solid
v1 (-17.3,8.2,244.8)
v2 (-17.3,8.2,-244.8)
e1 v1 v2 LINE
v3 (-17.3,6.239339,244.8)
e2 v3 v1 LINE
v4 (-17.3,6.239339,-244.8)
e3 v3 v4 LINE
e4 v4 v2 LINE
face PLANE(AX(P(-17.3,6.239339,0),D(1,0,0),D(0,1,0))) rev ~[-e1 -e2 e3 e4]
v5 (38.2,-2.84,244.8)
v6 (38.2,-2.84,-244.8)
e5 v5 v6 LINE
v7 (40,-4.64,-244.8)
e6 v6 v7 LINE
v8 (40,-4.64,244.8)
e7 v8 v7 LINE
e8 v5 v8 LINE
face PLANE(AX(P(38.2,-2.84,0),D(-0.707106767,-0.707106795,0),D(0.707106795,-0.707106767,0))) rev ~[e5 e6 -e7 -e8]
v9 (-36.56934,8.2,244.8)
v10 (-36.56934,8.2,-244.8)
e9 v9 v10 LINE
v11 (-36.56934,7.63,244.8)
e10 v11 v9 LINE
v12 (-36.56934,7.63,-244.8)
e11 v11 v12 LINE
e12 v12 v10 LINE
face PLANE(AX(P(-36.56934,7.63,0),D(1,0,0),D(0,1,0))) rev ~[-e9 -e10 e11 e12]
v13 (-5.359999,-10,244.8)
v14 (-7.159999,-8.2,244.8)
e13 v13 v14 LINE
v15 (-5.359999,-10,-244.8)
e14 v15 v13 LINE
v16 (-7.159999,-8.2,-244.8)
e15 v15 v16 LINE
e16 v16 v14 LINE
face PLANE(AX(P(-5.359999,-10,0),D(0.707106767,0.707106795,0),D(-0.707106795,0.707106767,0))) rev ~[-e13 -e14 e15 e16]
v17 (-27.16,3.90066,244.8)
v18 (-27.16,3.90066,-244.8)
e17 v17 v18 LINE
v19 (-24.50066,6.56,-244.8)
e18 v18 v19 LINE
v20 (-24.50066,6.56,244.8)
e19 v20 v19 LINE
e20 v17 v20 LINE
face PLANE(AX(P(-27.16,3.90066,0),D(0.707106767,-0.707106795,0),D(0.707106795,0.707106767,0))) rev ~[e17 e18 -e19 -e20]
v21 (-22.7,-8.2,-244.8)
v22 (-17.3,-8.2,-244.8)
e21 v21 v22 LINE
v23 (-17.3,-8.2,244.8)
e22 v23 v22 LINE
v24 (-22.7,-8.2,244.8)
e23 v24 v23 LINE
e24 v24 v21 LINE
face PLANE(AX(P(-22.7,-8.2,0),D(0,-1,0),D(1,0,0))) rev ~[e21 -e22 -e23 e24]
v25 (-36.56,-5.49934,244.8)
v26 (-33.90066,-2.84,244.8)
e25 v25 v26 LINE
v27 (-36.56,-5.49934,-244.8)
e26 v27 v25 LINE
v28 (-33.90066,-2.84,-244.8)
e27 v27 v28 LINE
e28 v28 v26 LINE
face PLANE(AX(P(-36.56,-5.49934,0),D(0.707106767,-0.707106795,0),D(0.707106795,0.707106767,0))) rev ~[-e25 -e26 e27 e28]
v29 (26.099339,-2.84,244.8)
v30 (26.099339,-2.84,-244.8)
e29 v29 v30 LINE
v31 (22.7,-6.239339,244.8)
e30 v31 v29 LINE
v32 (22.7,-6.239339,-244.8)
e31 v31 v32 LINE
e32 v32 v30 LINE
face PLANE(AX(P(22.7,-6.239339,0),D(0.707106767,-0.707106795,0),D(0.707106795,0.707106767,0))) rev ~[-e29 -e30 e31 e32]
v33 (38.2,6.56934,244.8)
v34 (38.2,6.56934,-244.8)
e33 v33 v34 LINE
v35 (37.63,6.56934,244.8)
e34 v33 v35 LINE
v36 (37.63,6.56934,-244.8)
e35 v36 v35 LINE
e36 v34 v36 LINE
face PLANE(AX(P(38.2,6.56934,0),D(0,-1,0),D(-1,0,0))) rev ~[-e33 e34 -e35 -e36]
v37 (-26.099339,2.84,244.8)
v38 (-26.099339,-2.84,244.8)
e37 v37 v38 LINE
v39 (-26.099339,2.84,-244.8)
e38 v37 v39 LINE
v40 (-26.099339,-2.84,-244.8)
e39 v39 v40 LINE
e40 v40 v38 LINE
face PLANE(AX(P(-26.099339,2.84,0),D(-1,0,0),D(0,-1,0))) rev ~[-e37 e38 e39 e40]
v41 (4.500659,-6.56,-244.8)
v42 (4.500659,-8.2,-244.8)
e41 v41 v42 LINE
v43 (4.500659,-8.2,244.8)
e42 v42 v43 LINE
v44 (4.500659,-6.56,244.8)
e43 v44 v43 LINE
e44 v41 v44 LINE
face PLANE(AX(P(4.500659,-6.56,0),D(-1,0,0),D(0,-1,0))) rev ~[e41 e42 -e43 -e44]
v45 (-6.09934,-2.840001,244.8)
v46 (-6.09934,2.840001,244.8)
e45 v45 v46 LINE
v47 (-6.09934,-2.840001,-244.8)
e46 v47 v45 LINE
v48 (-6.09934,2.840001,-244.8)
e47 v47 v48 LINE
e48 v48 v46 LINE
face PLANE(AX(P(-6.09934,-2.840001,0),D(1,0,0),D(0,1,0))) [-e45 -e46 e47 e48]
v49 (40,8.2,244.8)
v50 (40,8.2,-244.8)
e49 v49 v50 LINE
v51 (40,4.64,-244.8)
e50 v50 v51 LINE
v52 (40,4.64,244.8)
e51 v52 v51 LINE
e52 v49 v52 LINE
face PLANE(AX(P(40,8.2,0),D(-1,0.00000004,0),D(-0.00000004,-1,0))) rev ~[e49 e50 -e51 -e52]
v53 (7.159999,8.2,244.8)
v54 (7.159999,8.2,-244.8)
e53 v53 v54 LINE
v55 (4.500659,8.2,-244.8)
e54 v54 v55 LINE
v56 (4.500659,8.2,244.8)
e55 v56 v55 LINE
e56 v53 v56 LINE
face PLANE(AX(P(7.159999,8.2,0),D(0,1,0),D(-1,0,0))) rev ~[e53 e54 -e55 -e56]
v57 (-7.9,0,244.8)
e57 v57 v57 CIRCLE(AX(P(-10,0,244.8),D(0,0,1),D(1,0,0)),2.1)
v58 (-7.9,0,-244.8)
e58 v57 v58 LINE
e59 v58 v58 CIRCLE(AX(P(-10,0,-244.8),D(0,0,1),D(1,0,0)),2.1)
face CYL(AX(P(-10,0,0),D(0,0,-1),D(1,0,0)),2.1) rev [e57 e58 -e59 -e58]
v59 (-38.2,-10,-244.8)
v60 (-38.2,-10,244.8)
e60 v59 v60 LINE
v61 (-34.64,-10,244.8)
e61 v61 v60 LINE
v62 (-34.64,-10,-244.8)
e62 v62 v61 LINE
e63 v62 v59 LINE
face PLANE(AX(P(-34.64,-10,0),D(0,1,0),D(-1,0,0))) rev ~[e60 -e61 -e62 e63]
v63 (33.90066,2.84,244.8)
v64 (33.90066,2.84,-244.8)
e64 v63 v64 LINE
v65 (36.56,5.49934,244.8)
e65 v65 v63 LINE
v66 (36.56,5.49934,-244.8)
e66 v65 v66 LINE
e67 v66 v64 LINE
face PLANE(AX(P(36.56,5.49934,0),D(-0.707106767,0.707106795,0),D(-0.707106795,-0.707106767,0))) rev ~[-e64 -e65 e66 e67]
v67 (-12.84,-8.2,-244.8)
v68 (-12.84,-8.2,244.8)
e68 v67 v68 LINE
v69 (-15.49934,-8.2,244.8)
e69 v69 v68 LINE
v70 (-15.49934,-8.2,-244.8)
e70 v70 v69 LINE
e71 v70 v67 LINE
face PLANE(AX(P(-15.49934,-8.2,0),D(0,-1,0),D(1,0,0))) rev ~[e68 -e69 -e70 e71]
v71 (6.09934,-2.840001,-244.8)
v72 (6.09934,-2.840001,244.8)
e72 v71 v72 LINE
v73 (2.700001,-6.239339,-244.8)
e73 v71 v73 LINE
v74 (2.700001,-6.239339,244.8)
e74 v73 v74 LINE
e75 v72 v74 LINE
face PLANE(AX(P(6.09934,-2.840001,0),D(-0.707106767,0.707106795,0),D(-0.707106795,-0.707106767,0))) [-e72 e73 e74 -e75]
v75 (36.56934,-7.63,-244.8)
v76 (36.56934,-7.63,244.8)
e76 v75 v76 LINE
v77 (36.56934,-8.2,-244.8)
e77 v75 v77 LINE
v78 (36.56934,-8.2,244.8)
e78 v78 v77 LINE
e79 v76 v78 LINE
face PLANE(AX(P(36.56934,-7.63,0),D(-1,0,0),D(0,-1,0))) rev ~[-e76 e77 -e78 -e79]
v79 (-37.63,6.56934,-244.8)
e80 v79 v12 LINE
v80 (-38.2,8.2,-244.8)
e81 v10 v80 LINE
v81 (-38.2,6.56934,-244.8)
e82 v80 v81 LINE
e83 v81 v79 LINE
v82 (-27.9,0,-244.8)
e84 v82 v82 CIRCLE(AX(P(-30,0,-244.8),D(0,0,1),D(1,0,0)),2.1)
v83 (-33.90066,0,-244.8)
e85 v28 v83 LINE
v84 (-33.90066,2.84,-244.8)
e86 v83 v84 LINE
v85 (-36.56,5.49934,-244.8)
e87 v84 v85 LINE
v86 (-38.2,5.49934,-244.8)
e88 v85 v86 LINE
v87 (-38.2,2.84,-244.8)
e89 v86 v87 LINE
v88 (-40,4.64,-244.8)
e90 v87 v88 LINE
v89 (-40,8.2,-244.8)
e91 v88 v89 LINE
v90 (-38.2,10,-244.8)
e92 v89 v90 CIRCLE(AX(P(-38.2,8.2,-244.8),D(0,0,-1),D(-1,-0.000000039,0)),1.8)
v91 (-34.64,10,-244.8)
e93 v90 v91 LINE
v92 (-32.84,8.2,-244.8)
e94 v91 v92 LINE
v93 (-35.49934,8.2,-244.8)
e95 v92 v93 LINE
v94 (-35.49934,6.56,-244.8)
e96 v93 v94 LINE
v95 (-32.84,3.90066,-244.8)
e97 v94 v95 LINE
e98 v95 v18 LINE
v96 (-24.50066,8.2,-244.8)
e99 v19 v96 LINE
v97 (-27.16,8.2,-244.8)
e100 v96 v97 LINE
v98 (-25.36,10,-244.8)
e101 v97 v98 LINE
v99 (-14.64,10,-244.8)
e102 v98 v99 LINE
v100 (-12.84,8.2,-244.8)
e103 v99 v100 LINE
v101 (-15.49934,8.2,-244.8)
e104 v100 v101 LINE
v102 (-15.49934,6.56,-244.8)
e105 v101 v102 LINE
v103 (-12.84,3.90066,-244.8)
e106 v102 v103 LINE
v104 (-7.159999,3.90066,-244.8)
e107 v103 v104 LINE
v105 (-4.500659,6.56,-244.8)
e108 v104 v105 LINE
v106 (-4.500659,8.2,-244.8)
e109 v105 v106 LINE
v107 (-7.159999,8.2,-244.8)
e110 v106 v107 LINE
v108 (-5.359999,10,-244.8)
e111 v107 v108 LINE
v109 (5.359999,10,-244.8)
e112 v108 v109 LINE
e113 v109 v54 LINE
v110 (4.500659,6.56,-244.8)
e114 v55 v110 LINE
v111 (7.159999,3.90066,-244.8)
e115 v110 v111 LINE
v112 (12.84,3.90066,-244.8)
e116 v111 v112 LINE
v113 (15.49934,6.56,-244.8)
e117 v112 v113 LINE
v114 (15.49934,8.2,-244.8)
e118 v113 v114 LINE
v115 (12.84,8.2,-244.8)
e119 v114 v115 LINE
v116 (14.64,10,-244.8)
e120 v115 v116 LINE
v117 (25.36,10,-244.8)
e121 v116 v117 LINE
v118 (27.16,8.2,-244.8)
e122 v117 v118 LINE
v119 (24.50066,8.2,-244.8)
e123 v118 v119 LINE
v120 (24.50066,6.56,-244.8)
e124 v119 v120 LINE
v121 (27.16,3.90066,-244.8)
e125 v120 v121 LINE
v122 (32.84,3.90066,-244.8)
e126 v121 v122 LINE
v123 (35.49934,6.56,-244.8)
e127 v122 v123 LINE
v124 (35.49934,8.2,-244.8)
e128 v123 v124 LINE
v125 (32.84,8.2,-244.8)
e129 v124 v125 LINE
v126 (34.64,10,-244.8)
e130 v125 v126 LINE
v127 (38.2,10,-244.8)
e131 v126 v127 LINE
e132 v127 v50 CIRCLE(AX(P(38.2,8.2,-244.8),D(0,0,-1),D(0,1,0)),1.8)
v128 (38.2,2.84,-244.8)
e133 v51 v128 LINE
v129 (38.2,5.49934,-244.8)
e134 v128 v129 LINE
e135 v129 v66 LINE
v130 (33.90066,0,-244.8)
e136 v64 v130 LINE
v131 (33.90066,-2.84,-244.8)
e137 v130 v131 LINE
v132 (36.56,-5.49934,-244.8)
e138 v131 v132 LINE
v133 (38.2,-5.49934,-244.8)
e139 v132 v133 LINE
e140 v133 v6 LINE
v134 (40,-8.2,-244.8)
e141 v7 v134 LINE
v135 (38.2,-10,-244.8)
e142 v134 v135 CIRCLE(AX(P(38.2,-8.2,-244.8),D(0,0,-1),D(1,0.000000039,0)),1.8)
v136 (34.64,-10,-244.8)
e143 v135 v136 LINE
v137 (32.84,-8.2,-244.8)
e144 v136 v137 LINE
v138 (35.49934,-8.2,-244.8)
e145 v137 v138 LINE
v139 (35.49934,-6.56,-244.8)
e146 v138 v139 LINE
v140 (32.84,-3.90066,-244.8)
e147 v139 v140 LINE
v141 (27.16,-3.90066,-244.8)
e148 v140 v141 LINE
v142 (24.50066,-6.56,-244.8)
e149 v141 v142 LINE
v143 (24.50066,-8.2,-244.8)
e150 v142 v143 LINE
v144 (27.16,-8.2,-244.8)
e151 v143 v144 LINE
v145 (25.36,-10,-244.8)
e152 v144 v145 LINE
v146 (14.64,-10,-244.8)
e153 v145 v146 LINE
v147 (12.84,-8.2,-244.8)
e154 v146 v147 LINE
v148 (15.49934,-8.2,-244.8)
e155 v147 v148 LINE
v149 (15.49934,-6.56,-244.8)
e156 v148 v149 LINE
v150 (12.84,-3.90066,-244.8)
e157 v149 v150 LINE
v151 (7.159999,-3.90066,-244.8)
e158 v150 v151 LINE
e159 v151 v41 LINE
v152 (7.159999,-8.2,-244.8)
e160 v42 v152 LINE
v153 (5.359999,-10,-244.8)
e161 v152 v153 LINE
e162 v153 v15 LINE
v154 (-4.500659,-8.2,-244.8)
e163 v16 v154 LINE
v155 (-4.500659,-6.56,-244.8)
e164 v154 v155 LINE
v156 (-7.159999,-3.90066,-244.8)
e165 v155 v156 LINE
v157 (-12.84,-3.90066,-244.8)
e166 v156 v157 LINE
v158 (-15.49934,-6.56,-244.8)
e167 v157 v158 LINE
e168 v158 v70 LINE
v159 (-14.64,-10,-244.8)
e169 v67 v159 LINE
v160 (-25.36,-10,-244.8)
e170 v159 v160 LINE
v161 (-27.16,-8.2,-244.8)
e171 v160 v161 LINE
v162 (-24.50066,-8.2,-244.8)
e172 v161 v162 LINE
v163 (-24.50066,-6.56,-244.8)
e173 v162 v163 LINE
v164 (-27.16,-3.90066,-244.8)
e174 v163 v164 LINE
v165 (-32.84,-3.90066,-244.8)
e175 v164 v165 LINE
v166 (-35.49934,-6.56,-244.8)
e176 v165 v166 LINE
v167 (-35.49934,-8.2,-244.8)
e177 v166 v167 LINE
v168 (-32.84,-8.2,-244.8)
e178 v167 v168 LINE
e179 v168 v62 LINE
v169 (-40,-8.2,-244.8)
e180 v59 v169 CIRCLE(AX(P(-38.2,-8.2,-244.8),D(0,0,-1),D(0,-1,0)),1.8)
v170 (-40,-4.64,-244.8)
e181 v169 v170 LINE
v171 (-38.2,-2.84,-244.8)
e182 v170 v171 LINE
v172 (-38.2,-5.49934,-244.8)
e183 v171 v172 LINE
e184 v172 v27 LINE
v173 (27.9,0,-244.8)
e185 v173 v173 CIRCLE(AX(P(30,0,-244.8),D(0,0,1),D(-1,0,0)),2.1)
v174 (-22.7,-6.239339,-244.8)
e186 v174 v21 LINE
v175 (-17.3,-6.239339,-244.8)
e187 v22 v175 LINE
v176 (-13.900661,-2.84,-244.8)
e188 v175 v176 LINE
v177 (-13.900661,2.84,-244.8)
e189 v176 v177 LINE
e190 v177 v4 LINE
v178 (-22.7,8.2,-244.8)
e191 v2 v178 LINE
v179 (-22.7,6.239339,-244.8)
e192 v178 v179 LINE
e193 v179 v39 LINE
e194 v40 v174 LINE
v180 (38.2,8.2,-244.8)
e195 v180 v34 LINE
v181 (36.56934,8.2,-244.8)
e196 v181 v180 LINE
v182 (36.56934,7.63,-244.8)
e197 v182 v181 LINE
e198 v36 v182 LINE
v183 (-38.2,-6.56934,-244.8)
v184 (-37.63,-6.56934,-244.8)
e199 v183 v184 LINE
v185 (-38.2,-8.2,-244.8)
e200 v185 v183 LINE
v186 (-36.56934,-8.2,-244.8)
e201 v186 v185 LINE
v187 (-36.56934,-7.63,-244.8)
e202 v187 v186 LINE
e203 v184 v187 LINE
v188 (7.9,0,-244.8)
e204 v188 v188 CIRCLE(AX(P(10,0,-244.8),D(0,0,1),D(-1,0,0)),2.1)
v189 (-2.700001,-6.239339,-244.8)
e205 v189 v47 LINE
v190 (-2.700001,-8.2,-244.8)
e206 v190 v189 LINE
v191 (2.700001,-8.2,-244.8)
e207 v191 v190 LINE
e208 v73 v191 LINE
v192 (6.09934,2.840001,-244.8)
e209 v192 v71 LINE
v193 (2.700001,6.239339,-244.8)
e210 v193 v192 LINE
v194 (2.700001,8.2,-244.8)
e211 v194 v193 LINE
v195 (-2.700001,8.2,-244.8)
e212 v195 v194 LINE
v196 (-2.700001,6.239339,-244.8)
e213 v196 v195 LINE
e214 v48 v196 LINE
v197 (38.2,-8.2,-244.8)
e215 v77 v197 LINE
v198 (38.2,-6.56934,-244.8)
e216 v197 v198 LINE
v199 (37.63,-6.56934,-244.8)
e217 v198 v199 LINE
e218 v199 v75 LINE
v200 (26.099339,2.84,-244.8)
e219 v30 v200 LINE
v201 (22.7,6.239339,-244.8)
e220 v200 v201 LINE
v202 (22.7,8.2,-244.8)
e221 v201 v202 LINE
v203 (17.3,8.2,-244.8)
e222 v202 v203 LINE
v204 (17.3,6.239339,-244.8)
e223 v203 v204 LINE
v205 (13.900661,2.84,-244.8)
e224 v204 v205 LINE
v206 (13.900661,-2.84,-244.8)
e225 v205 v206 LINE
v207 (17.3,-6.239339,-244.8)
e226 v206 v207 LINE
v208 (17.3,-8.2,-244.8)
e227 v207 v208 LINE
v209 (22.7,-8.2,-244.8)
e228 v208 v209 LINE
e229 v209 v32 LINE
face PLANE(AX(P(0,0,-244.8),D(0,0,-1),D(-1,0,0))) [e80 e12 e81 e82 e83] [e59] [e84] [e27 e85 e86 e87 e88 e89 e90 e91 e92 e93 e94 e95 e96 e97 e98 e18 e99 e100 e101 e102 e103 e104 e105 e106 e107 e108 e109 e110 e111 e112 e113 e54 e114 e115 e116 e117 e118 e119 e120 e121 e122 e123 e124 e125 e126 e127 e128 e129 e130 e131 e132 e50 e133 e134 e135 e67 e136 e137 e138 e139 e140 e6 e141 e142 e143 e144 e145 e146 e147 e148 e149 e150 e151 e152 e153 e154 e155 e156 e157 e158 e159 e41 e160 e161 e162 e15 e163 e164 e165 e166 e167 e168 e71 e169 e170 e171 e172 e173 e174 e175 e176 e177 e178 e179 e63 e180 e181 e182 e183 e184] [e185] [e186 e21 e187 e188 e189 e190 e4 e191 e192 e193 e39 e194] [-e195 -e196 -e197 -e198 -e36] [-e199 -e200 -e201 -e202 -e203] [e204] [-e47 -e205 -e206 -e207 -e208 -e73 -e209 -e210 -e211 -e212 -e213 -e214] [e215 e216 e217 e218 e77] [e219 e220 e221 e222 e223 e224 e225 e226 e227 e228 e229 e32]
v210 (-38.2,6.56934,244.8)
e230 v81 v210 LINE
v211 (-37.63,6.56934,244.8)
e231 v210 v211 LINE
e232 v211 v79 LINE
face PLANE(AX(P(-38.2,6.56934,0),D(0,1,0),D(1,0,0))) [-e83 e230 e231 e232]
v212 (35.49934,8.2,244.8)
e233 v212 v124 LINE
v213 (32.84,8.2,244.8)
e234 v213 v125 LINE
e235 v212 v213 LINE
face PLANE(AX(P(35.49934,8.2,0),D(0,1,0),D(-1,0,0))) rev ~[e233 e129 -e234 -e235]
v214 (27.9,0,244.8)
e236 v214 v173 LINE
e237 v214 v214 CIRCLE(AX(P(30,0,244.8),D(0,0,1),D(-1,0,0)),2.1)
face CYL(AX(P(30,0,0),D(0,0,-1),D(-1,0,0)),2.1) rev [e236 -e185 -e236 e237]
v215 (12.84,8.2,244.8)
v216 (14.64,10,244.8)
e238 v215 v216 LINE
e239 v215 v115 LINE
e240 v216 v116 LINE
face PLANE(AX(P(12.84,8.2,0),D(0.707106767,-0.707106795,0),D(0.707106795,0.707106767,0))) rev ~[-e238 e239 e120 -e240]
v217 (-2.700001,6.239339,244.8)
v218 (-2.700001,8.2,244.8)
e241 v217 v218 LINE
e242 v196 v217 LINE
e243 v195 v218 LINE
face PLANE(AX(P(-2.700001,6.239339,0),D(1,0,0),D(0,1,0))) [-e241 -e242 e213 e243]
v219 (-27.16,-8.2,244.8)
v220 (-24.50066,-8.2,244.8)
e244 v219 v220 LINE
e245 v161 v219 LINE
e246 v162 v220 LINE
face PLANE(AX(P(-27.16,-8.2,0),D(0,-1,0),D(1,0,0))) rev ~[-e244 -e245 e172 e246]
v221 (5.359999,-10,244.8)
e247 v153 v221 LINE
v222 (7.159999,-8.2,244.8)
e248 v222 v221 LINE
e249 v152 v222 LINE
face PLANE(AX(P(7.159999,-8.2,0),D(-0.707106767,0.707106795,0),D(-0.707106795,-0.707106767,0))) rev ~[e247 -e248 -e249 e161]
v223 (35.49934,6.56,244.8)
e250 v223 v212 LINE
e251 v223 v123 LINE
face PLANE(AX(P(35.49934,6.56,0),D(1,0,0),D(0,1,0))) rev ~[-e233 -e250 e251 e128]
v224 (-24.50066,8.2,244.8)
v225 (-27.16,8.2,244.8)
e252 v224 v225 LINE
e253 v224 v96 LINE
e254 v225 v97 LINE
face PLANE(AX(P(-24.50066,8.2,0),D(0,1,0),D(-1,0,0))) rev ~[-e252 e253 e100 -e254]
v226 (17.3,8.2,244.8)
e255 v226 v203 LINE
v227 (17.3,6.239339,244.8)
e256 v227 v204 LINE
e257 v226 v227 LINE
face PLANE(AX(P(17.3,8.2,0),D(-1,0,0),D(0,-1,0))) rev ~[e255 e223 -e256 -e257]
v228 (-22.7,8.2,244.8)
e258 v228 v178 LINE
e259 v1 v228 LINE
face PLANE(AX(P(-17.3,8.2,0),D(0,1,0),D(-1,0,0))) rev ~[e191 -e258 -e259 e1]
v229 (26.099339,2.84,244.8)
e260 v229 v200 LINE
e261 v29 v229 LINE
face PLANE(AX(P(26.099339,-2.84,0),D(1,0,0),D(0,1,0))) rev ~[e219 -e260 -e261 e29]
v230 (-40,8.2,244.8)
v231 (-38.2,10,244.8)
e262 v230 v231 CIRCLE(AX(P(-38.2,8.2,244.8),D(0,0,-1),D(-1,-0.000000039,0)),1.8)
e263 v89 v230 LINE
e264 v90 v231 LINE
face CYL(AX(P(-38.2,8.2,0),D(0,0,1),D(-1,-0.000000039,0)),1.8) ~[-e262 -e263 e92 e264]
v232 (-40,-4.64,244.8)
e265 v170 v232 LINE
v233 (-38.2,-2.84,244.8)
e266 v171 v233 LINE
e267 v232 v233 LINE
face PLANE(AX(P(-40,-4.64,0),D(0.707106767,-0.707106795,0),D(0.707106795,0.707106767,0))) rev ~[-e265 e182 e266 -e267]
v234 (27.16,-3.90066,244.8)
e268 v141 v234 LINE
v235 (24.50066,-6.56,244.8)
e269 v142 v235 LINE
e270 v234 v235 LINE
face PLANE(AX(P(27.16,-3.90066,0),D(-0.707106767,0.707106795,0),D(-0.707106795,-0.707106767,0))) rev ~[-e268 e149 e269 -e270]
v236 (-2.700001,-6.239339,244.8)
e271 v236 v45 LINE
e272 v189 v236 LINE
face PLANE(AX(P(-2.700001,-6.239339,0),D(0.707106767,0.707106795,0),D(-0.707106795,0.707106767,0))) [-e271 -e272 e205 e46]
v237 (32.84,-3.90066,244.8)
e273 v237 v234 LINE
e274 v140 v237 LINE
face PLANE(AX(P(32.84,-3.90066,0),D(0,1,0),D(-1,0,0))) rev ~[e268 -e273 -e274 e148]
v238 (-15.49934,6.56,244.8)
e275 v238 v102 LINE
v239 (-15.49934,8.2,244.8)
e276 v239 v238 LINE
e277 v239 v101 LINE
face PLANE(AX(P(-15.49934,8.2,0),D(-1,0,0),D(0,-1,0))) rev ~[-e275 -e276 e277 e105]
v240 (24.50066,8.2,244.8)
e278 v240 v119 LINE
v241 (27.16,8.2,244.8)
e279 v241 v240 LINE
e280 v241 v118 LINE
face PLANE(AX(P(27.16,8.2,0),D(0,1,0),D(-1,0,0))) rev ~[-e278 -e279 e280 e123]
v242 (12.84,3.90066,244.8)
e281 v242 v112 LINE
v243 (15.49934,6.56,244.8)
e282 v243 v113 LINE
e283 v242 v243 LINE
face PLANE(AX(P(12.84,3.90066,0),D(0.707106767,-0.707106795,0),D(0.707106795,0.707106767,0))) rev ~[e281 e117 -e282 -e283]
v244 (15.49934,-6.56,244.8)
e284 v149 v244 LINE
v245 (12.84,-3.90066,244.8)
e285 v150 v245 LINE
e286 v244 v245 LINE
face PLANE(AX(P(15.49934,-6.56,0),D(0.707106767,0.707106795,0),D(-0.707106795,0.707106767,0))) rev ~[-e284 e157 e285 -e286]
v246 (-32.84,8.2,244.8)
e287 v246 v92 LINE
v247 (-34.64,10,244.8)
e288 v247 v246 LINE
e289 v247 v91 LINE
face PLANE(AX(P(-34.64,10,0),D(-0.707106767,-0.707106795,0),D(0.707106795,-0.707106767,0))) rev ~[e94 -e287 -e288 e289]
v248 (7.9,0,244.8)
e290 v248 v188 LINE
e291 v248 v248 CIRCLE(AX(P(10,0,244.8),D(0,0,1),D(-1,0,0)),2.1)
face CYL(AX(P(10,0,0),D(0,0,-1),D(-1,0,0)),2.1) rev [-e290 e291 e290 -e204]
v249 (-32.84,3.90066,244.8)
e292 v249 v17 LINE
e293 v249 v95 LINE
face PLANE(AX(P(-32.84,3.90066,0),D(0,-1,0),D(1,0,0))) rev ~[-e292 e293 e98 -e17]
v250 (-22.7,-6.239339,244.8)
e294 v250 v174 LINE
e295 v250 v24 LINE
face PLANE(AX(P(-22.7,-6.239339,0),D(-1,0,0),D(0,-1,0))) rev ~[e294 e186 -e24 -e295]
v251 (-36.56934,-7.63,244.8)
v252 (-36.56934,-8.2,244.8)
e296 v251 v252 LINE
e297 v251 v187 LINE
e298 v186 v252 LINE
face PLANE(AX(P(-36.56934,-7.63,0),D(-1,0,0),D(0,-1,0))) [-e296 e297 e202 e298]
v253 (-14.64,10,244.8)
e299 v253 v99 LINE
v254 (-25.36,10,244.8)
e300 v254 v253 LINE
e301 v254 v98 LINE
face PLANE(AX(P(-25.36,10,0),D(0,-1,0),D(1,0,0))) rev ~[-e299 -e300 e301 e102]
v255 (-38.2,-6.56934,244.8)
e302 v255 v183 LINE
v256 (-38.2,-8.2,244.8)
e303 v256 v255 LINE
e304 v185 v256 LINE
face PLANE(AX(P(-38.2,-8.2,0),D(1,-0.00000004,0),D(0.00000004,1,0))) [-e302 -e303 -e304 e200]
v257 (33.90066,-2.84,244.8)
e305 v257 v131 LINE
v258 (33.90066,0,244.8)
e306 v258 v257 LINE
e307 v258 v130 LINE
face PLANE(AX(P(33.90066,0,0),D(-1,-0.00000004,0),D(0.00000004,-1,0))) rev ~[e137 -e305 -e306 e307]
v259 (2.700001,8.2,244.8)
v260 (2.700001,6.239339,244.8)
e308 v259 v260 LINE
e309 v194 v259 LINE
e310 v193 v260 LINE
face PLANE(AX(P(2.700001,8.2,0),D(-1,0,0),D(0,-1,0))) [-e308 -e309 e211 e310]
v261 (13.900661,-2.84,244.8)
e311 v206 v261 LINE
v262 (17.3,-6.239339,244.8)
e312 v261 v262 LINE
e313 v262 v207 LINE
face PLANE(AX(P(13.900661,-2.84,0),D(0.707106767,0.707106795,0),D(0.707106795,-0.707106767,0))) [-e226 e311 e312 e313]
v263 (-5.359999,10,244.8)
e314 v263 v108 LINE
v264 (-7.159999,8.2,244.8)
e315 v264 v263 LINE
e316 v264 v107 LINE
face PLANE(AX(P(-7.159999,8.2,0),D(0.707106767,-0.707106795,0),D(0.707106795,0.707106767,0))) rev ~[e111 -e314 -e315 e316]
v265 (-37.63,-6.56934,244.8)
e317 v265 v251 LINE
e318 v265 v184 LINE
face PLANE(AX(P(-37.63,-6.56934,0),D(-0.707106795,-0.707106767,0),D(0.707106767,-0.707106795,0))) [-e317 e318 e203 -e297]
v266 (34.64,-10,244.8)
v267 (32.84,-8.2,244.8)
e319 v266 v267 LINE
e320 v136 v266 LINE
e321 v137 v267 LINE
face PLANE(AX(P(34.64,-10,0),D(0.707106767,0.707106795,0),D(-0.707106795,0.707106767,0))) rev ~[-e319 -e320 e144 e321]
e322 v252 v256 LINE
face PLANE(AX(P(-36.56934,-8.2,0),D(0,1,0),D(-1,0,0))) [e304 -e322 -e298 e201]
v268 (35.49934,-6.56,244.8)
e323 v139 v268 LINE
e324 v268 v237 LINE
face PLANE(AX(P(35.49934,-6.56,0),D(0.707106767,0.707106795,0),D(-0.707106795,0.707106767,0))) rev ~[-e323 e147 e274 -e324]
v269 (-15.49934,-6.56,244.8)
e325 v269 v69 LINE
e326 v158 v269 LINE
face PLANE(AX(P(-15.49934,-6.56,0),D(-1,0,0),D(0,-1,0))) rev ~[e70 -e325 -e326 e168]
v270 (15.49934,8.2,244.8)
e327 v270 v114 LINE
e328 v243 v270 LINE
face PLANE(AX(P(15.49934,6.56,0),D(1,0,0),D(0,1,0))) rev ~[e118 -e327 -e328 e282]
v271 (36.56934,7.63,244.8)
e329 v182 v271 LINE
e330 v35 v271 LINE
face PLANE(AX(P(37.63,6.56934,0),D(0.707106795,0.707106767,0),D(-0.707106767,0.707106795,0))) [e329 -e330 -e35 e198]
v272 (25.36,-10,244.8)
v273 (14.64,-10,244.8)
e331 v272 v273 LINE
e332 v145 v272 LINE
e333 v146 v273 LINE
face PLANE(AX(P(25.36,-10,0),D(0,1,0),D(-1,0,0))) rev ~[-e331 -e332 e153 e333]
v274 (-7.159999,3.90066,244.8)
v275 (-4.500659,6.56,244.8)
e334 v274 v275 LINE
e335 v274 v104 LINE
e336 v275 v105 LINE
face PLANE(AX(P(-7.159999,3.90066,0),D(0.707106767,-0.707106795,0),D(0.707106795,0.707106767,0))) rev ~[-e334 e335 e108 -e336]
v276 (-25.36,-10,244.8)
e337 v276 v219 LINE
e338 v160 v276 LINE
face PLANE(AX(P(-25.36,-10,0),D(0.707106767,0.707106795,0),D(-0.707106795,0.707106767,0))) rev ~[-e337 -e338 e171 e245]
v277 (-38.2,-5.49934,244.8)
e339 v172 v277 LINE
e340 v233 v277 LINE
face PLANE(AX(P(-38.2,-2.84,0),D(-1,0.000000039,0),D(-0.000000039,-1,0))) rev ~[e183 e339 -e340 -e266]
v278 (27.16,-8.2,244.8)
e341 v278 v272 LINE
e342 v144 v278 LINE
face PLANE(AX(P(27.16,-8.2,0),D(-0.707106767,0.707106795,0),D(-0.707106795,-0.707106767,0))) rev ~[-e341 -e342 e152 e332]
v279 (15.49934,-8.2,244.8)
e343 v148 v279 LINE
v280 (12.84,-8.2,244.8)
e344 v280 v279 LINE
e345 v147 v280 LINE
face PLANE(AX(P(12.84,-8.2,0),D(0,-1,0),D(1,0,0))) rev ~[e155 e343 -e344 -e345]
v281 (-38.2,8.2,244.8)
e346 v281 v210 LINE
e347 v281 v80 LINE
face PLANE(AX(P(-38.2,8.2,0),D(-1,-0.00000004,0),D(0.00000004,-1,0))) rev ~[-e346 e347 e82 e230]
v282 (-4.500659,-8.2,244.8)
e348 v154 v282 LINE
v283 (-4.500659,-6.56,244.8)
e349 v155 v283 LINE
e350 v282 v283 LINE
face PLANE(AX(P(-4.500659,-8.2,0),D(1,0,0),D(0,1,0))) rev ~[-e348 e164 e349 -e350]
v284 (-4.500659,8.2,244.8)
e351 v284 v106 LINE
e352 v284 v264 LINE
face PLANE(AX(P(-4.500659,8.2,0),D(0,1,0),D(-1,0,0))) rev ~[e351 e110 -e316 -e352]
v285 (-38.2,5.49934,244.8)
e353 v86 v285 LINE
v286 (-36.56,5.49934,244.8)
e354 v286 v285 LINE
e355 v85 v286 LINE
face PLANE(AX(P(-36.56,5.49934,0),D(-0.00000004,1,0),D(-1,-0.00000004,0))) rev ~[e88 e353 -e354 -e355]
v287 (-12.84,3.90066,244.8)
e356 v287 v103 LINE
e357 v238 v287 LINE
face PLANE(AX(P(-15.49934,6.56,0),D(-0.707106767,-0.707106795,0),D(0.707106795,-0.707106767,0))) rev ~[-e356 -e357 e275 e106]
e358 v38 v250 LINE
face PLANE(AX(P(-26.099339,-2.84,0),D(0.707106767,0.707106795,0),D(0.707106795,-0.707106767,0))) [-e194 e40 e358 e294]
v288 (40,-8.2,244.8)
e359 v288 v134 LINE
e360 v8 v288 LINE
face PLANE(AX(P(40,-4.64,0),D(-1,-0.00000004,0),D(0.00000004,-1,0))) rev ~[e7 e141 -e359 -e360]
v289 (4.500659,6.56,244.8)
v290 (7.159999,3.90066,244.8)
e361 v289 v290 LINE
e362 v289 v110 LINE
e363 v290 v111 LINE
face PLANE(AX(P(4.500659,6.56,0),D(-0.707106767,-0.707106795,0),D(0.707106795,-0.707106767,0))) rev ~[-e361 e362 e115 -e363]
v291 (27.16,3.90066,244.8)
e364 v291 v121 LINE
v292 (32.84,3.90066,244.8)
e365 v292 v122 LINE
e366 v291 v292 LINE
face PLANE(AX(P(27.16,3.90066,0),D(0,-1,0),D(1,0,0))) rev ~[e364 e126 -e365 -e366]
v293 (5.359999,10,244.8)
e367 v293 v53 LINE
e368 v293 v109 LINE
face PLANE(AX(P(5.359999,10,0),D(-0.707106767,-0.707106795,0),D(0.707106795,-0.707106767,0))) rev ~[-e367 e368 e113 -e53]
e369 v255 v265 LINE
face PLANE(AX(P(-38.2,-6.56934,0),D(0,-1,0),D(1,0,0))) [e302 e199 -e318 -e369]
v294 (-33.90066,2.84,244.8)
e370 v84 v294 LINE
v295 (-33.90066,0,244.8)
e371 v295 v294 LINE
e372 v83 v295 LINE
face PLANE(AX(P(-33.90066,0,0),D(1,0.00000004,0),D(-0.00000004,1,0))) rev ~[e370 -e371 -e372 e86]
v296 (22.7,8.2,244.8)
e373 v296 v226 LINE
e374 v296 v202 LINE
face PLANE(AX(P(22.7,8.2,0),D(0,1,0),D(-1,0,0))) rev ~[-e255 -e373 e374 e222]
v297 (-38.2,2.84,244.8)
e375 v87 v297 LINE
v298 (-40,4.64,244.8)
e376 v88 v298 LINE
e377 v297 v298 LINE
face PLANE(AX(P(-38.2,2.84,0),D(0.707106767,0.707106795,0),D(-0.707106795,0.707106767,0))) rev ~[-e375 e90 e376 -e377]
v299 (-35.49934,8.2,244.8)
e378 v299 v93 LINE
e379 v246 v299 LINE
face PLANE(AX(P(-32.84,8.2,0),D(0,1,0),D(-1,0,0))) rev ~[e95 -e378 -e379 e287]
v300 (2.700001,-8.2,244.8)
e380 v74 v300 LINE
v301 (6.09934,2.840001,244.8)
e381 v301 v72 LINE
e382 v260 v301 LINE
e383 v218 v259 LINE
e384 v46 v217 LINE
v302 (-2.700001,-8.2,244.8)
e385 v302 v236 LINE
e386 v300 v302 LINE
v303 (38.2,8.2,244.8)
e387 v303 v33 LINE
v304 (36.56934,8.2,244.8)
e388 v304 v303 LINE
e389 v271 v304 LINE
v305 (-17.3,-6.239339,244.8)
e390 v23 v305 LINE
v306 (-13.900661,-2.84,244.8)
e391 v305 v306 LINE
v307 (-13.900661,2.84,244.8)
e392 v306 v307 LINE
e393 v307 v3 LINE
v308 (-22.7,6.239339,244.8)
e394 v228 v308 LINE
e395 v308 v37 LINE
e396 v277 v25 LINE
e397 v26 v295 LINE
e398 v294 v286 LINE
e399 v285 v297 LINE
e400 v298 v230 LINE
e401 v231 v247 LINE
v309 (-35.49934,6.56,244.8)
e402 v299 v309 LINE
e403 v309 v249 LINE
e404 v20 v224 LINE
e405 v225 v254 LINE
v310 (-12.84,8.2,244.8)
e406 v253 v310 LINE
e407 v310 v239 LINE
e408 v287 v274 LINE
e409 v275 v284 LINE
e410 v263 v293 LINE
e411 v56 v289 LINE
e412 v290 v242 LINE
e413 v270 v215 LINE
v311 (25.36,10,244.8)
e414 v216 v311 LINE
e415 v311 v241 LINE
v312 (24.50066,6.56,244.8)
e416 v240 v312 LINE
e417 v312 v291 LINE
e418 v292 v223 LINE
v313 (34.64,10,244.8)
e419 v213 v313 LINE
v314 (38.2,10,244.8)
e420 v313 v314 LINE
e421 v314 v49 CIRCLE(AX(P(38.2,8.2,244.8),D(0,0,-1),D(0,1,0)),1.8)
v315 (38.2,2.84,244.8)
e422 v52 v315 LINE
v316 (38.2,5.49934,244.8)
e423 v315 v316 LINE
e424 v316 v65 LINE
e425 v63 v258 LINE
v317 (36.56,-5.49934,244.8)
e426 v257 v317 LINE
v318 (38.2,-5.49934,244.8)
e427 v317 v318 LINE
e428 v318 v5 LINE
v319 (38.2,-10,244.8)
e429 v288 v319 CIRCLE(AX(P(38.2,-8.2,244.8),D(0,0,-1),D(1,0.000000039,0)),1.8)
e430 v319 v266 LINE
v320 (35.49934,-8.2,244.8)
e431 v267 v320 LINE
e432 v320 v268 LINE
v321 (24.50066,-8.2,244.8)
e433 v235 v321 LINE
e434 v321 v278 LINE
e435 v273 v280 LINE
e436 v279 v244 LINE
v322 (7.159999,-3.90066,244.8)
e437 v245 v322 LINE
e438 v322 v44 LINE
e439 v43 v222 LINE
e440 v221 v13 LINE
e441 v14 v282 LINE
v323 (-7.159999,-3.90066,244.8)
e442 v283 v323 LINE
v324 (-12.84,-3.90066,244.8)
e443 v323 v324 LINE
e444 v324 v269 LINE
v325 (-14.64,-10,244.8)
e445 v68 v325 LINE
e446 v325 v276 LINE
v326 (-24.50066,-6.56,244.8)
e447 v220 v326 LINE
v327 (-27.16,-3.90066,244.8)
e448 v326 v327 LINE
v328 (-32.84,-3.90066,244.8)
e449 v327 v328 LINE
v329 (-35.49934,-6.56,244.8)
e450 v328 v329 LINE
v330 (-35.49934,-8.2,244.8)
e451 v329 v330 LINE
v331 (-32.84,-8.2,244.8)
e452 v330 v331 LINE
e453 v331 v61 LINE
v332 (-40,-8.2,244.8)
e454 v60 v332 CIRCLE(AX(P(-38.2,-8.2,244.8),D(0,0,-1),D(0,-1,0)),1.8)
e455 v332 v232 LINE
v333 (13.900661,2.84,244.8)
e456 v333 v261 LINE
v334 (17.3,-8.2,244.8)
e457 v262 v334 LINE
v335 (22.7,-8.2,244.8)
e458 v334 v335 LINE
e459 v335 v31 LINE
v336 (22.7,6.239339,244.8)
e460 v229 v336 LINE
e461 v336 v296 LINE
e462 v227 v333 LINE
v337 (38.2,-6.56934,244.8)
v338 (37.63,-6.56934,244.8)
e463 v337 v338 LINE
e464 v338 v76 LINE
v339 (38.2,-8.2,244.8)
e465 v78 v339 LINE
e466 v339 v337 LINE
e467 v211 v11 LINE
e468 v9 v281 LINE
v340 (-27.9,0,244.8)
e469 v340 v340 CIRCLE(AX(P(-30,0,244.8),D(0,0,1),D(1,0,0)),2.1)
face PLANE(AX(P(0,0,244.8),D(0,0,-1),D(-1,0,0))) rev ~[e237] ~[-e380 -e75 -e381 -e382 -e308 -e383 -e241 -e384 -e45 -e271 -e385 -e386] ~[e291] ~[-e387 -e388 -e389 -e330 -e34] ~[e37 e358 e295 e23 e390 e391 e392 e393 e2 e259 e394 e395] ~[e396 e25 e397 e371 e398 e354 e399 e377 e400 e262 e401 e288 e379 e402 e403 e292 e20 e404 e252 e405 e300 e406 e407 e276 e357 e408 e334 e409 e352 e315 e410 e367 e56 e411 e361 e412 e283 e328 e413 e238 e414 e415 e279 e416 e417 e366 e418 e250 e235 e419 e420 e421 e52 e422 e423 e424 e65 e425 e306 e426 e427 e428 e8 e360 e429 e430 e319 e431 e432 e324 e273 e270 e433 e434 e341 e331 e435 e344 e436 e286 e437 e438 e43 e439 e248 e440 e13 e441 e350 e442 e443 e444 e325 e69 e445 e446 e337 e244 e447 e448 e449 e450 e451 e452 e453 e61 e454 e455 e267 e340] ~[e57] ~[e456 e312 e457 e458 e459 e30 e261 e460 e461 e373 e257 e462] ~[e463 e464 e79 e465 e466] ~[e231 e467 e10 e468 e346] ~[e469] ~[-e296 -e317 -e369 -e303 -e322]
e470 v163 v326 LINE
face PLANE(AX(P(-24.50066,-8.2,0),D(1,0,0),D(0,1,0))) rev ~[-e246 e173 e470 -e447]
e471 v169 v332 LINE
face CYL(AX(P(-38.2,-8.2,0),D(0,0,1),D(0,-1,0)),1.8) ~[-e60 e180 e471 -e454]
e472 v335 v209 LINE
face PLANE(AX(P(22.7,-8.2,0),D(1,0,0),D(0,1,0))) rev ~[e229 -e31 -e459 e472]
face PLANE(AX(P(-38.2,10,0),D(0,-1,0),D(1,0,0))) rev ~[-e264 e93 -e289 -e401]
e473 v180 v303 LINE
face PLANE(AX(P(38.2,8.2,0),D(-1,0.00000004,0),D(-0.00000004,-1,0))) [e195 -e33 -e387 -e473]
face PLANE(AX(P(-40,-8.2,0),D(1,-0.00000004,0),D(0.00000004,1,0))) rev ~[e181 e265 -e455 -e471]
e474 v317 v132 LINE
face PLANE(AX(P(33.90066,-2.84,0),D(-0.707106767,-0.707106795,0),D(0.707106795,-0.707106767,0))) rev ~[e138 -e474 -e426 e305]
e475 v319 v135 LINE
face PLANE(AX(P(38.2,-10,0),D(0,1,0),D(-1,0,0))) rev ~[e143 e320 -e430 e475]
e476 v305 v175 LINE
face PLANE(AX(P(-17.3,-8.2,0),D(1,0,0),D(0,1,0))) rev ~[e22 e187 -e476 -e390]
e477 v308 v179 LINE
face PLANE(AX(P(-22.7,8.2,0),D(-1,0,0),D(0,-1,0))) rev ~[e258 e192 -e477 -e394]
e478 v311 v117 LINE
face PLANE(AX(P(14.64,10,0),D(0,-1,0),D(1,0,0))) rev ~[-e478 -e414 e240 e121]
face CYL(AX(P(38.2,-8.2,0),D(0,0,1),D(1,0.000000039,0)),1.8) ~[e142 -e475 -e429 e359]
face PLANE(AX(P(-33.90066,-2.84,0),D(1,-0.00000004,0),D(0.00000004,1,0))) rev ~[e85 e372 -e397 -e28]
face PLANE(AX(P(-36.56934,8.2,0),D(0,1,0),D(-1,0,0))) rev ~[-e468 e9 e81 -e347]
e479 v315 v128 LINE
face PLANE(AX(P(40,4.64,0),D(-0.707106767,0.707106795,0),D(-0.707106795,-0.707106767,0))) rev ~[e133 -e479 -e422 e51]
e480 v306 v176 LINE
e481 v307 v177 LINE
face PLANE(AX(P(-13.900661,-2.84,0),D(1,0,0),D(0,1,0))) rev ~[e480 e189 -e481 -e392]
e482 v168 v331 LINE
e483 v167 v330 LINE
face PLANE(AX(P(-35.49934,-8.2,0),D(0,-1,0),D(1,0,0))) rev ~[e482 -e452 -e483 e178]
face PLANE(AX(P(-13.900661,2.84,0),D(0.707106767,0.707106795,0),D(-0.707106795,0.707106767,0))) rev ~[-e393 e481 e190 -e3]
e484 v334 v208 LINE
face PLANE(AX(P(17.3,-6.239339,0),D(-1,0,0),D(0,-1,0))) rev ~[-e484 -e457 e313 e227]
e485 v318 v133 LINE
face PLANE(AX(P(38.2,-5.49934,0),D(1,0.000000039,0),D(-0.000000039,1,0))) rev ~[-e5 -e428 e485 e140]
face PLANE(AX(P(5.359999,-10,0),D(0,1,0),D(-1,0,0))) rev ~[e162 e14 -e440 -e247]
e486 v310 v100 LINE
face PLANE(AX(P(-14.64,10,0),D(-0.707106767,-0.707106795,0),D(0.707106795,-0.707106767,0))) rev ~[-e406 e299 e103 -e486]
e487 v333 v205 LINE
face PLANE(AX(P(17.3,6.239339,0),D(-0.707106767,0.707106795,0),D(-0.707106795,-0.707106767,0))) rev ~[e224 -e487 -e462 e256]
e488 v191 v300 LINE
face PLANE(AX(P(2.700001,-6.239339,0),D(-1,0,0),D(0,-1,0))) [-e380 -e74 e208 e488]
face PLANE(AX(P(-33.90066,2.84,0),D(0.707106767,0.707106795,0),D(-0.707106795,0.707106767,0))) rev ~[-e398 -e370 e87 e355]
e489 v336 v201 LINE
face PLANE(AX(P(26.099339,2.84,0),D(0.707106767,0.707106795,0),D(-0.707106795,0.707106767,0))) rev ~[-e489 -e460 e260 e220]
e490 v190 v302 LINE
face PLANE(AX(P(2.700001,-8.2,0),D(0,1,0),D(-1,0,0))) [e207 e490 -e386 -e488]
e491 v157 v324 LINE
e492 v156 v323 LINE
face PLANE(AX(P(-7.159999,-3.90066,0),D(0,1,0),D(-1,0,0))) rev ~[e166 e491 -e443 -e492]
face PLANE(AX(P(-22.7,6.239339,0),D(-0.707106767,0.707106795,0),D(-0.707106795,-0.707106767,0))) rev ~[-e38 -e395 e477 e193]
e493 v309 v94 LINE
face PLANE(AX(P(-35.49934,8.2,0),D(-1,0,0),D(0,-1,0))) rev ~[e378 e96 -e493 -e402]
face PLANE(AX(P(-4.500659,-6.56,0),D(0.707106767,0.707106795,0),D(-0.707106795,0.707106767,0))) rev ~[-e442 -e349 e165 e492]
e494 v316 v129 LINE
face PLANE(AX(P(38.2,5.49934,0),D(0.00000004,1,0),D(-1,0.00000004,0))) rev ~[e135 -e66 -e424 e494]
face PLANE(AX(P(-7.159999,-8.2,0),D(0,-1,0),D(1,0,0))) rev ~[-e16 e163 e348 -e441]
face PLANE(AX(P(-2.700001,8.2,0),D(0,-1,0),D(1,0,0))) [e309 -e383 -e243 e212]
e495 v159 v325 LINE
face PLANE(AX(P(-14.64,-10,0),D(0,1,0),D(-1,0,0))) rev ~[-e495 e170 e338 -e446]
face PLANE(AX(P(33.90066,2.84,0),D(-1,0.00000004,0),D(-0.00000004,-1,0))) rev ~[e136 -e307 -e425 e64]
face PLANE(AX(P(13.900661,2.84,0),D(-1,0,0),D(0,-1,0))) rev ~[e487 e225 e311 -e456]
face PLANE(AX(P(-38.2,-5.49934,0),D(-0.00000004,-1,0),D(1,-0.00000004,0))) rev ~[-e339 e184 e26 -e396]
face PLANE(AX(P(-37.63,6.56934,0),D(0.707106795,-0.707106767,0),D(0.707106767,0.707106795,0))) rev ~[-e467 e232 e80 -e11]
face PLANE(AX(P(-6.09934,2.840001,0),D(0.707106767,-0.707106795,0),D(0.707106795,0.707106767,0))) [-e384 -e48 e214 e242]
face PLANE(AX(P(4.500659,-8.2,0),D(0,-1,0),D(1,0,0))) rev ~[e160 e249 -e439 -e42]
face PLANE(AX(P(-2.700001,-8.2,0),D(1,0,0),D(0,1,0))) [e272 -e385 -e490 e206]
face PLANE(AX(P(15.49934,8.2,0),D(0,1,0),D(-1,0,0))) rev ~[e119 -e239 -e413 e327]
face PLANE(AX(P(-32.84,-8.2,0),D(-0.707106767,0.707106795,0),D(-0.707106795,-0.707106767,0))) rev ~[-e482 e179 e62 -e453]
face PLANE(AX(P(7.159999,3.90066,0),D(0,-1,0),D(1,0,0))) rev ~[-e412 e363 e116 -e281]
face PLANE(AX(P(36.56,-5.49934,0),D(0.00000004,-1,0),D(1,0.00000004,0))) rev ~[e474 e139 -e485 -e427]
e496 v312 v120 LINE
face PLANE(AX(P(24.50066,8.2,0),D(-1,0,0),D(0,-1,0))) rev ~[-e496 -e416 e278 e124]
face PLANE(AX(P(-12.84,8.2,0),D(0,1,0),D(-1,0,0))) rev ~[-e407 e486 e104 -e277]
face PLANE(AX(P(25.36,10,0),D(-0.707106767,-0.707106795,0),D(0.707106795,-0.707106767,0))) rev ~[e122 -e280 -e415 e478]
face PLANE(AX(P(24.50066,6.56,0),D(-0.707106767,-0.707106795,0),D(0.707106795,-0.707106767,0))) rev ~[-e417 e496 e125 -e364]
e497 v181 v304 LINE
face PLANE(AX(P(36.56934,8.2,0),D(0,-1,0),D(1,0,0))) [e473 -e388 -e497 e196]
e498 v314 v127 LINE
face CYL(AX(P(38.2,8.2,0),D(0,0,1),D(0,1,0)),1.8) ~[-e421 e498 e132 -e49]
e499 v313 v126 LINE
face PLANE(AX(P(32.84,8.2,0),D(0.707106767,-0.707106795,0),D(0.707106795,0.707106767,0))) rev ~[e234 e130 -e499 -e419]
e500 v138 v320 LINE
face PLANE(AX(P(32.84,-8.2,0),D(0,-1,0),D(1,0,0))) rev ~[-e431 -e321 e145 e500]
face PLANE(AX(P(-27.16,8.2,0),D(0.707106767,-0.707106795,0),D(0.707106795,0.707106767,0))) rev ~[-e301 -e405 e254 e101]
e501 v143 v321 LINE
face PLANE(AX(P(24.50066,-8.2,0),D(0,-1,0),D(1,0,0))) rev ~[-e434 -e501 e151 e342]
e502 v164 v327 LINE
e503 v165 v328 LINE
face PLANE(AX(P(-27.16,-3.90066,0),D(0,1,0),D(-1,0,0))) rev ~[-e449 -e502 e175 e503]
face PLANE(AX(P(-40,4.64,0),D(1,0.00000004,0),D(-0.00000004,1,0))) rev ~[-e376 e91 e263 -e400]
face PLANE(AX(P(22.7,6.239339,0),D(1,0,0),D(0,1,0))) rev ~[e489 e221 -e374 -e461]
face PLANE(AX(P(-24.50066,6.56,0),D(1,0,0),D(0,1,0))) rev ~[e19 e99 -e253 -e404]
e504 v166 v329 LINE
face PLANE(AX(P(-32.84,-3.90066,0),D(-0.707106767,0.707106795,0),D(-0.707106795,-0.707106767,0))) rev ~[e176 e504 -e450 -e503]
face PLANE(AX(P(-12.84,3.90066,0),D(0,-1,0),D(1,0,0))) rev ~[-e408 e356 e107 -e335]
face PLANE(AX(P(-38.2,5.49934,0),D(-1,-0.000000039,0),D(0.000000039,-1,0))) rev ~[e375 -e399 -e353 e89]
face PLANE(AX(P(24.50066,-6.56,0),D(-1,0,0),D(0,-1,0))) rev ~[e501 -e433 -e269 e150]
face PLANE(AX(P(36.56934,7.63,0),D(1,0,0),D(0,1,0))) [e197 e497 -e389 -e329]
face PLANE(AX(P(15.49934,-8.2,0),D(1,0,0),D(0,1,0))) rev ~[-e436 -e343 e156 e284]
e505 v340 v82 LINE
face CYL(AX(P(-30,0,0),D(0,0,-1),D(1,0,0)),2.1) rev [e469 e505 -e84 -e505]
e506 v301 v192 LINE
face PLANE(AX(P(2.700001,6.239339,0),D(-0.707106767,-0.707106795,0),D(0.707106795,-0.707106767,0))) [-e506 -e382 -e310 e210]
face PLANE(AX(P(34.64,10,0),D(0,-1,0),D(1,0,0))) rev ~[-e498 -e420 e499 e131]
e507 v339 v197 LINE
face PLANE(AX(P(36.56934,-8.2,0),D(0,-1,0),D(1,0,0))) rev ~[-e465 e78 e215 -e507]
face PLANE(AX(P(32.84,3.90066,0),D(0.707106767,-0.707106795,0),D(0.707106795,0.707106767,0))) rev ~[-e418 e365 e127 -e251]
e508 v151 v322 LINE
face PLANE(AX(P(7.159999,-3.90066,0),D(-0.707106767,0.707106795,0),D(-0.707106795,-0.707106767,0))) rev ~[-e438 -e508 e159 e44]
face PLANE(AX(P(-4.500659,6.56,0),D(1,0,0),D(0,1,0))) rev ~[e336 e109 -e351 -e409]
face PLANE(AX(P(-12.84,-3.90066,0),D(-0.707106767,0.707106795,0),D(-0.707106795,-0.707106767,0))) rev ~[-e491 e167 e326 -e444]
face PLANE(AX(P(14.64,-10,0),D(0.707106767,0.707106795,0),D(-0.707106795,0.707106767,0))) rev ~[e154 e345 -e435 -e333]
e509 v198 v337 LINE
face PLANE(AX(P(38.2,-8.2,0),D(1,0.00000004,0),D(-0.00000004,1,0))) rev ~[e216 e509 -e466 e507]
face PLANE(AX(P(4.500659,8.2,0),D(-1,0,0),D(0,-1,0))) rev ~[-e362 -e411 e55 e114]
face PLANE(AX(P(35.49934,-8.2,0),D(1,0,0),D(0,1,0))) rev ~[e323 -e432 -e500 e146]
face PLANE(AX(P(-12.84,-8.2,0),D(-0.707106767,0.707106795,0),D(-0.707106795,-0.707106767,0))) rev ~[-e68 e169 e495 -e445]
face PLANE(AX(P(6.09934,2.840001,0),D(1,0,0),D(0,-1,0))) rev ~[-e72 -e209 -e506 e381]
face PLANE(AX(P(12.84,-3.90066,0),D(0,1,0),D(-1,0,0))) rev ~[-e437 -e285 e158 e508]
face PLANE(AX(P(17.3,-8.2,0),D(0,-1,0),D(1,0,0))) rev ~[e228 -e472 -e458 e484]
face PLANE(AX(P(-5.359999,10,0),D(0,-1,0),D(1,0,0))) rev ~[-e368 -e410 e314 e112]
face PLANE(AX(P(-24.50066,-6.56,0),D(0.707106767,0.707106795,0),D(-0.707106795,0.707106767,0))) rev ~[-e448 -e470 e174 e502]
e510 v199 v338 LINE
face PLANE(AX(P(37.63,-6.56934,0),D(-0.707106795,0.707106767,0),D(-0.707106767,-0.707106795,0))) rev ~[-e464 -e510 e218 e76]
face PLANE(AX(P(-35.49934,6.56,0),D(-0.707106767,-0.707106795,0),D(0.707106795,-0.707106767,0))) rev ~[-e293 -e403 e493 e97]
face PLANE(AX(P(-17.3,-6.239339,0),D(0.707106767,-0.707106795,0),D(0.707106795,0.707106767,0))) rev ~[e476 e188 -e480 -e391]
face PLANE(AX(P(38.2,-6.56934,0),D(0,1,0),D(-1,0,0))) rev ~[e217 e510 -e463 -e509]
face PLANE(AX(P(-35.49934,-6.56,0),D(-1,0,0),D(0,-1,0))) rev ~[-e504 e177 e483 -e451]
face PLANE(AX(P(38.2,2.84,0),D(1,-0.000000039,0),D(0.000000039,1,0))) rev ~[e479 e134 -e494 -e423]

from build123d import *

# Parameters (mm, degrees)
SKETCH1_R      = 2.1
EXTRUDE1_DEPTH = 244.8


with BuildPart() as part:
    # Sketch1 → Extrude1 (new, symmetric)
    with BuildSketch(Plane.XY):
        with BuildLine():
            Line((-38.199999929, 10), (-34.639999675, 10))
            Line((-34.639999675, 10), (-32.839999603, 8.2))
            Line((-32.839999603, 8.2), (-35.499339671, 8.2))
            Line((-35.499339671, 8.2), (-35.499339671, 6.56))
            Line((-35.499339671, 6.56), (-32.839999603, 3.900660038))
            Line((-32.839999603, 3.900660038), (-27.159999603, 3.900660038))
            Line((-27.159999603, 3.900660038), (-24.500659536, 6.56))
            Line((-24.500659536, 6.56), (-24.500659536, 8.2))
            Line((-24.500659536, 8.2), (-27.159999603, 8.2))
            Line((-27.159999603, 8.2), (-25.359999532, 10))
            Line((-25.359999532, 10), (-14.640000468, 10))
            Line((-14.640000468, 10), (-12.840000397, 8.2))
            Line((-12.840000397, 8.2), (-15.499340464, 8.2))
            Line((-15.499340464, 8.2), (-15.499340464, 6.56))
            Line((-15.499340464, 6.56), (-12.840000397, 3.900660038))
            Line((-12.840000397, 3.900660038), (-7.159998809, 3.900660038))
            Line((-7.159998809, 3.900660038), (-4.500658742, 6.56))
            Line((-4.500658742, 6.56), (-4.500658742, 8.2))
            Line((-4.500658742, 8.2), (-7.159998809, 8.2))
            Line((-7.159998809, 8.2), (-5.359998738, 10))
            Line((-5.359998738, 10), (5.359998738, 10))
            Line((5.359998738, 10), (7.159998809, 8.2))
            Line((7.159998809, 8.2), (4.500658742, 8.2))
            Line((4.500658742, 8.2), (4.500658742, 6.56))
            Line((4.500658742, 6.56), (7.159998809, 3.900660038))
            Line((7.159998809, 3.900660038), (12.840000397, 3.900660038))
            Line((12.840000397, 3.900660038), (15.499340464, 6.56))
            Line((15.499340464, 6.56), (15.499340464, 8.2))
            Line((15.499340464, 8.2), (12.840000397, 8.2))
            Line((12.840000397, 8.2), (14.640000468, 10))
            Line((14.640000468, 10), (25.359999532, 10))
            Line((25.359999532, 10), (27.159999603, 8.2))
            Line((27.159999603, 8.2), (24.500659536, 8.2))
            Line((24.500659536, 8.2), (24.500659536, 6.56))
            Line((24.500659536, 6.56), (27.159999603, 3.900660038))
            Line((27.159999603, 3.900660038), (32.839999603, 3.900660038))
            Line((32.839999603, 3.900660038), (35.499339671, 6.56))
            Line((35.499339671, 6.56), (35.499339671, 8.2))
            Line((35.499339671, 8.2), (32.839999603, 8.2))
            Line((32.839999603, 8.2), (34.639999675, 10))
            Line((34.639999675, 10), (38.199999929, 10))
            ThreePointArc((38.199999929, 10), (39.47279216, 9.472792181), (39.999999929, 8.199999929))
            Line((39.999999929, 8.199999929), (39.999999787, 4.639999675))
            Line((39.999999787, 4.639999675), (38.199999716, 2.839999675))
            Line((38.199999716, 2.839999675), (38.199999821, 5.499339742))
            Line((38.199999821, 5.499339742), (36.559999821, 5.499339807))
            Line((36.559999821, 5.499339807), (33.900659754, 2.839999845))
            Line((33.900659754, 2.839999845), (33.900659641, 0))
            Line((33.900659641, 0), (33.900659754, -2.839999845))
            Line((33.900659754, -2.839999845), (36.559999821, -5.499339807))
            Line((36.559999821, -5.499339807), (38.199999821, -5.499339742))
            Line((38.199999821, -5.499339742), (38.199999716, -2.839999675))
            Line((38.199999716, -2.839999675), (39.999999787, -4.639999675))
            Line((39.999999787, -4.639999675), (39.999999929, -8.199999929))
            ThreePointArc((39.999999929, -8.199999929), (39.47279216, -9.472792181), (38.199999929, -10))
            Line((38.199999929, -10), (34.639999675, -10))
            Line((34.639999675, -10), (32.839999603, -8.2))
            Line((32.839999603, -8.2), (35.499339671, -8.2))
            Line((35.499339671, -8.2), (35.499339671, -6.56))
            Line((35.499339671, -6.56), (32.839999603, -3.900660038))
            Line((32.839999603, -3.900660038), (27.159999603, -3.900660038))
            Line((27.159999603, -3.900660038), (24.500659536, -6.56))
            Line((24.500659536, -6.56), (24.500659536, -8.2))
            Line((24.500659536, -8.2), (27.159999603, -8.2))
            Line((27.159999603, -8.2), (25.359999532, -10))
            Line((25.359999532, -10), (14.640000468, -10))
            Line((14.640000468, -10), (12.840000397, -8.2))
            Line((12.840000397, -8.2), (15.499340464, -8.2))
            Line((15.499340464, -8.2), (15.499340464, -6.56))
            Line((15.499340464, -6.56), (12.840000397, -3.900660038))
            Line((12.840000397, -3.900660038), (7.159998809, -3.900660038))
            Line((7.159998809, -3.900660038), (4.500658742, -6.56))
            Line((4.500658742, -6.56), (4.500658742, -8.2))
            Line((4.500658742, -8.2), (7.159998809, -8.2))
            Line((7.159998809, -8.2), (5.359998738, -10))
            Line((5.359998738, -10), (-5.359998738, -10))
            Line((-5.359998738, -10), (-7.159998809, -8.2))
            Line((-7.159998809, -8.2), (-4.500658742, -8.2))
            Line((-4.500658742, -8.2), (-4.500658742, -6.56))
            Line((-4.500658742, -6.56), (-7.159998809, -3.900660038))
            Line((-7.159998809, -3.900660038), (-12.840000397, -3.900660038))
            Line((-12.840000397, -3.900660038), (-15.499340464, -6.56))
            Line((-15.499340464, -6.56), (-15.499340464, -8.2))
            Line((-15.499340464, -8.2), (-12.840000397, -8.2))
            Line((-12.840000397, -8.2), (-14.640000468, -10))
            Line((-14.640000468, -10), (-25.359999532, -10))
            Line((-25.359999532, -10), (-27.159999603, -8.2))
            Line((-27.159999603, -8.2), (-24.500659536, -8.2))
            Line((-24.500659536, -8.2), (-24.500659536, -6.56))
            Line((-24.500659536, -6.56), (-27.159999603, -3.900660038))
            Line((-27.159999603, -3.900660038), (-32.839999603, -3.900660038))
            Line((-32.839999603, -3.900660038), (-35.499339671, -6.56))
            Line((-35.499339671, -6.56), (-35.499339671, -8.2))
            Line((-35.499339671, -8.2), (-32.839999603, -8.2))
            Line((-32.839999603, -8.2), (-34.639999675, -10))
            Line((-34.639999675, -10), (-38.199999929, -10))
            ThreePointArc((-38.199999929, -10), (-39.47279216, -9.472792181), (-39.999999929, -8.199999929))
            Line((-39.999999929, -8.199999929), (-39.999999787, -4.639999675))
            Line((-39.999999787, -4.639999675), (-38.199999716, -2.839999675))
            Line((-38.199999716, -2.839999675), (-38.199999821, -5.499339742))
            Line((-38.199999821, -5.499339742), (-36.559999821, -5.499339807))
            Line((-36.559999821, -5.499339807), (-33.900659754, -2.839999845))
            Line((-33.900659754, -2.839999845), (-33.900659641, 0))
            Line((-33.900659641, 0), (-33.900659754, 2.839999845))
            Line((-33.900659754, 2.839999845), (-36.559999821, 5.499339807))
            Line((-36.559999821, 5.499339807), (-38.199999821, 5.499339742))
            Line((-38.199999821, 5.499339742), (-38.199999716, 2.839999675))
            Line((-38.199999716, 2.839999675), (-39.999999787, 4.639999675))
            Line((-39.999999787, 4.639999675), (-39.999999929, 8.199999929))
            ThreePointArc((-39.999999929, 8.199999929), (-39.47279216, 9.472792181), (-38.199999929, 10))
        make_face()
        with Locations((-29.999999603, 0)):
            Circle(SKETCH1_R, mode=Mode.SUBTRACT)
        with Locations((-9.999999603, 0)):
            Circle(SKETCH1_R, mode=Mode.SUBTRACT)
        with Locations(Location((29.999999603, 0, 0), (0, 0, 180))):
            Circle(SKETCH1_R, mode=Mode.SUBTRACT)
        with Locations(Location((9.999999603, 0, 0), (0, 0, 180))):
            Circle(SKETCH1_R, mode=Mode.SUBTRACT)
        Polygon((-38.199999929, 8.2), (-38.199999864, 6.569339742), (-37.629999799, 6.569339742), (-36.569339648, 7.629999935), (-36.569339648, 8.2), align=None, mode=Mode.SUBTRACT)
        Polygon((-17.3, 6.239339079), (-17.3, 8.2), (-22.7, 8.2), (-22.7, 6.239339079), (-26.099339368, 2.839999845), (-26.099339368, -2.839999845), (-22.7, -6.239339079), (-22.7, -8.2), (-17.3, -8.2), (-17.3, -6.239339079), (-13.900660632, -2.839999845), (-13.900660632, 2.839999845), align=None, mode=Mode.SUBTRACT)
        Polygon((-6.099339678, -2.840000949), (-6.099339678, 2.840000949), (-2.700001413, 6.239339079), (-2.700001413, 8.2), (2.700001413, 8.2), (2.700001413, 6.239339079), (6.099339678, 2.840000949), (6.099339678, -2.840000949), (2.700001413, -6.239339079), (2.700001413, -8.2), (-2.700001413, -8.2), (-2.700001413, -6.239339079), align=None, mode=Mode.SUBTRACT)
        Polygon((-36.569339648, -7.629999935), (-36.569339648, -8.2), (-38.199999929, -8.2), (-38.199999864, -6.569339742), (-37.629999799, -6.569339742), align=None, mode=Mode.SUBTRACT)
        Polygon((36.569339648, 8.2), (38.199999929, 8.2), (38.199999864, 6.569339742), (37.629999799, 6.569339742), (36.569339648, 7.629999935), align=None, mode=Mode.SUBTRACT)
        Polygon((36.569339648, -8.2), (38.199999929, -8.2), (38.199999864, -6.569339742), (37.629999799, -6.569339742), (36.569339648, -7.629999935), align=None, mode=Mode.SUBTRACT)
        Polygon((13.900660632, -2.839999845), (17.3, -6.239339079), (17.3, -8.2), (22.7, -8.2), (22.7, -6.239339079), (26.099339368, -2.839999845), (26.099339368, 2.839999845), (22.7, 6.239339079), (22.7, 8.2), (17.3, 8.2), (17.3, 6.239339079), (13.900660632, 2.839999845), align=None, mode=Mode.SUBTRACT)
    extrude(amount=EXTRUDE1_DEPTH, both=True)


solid = part.part
